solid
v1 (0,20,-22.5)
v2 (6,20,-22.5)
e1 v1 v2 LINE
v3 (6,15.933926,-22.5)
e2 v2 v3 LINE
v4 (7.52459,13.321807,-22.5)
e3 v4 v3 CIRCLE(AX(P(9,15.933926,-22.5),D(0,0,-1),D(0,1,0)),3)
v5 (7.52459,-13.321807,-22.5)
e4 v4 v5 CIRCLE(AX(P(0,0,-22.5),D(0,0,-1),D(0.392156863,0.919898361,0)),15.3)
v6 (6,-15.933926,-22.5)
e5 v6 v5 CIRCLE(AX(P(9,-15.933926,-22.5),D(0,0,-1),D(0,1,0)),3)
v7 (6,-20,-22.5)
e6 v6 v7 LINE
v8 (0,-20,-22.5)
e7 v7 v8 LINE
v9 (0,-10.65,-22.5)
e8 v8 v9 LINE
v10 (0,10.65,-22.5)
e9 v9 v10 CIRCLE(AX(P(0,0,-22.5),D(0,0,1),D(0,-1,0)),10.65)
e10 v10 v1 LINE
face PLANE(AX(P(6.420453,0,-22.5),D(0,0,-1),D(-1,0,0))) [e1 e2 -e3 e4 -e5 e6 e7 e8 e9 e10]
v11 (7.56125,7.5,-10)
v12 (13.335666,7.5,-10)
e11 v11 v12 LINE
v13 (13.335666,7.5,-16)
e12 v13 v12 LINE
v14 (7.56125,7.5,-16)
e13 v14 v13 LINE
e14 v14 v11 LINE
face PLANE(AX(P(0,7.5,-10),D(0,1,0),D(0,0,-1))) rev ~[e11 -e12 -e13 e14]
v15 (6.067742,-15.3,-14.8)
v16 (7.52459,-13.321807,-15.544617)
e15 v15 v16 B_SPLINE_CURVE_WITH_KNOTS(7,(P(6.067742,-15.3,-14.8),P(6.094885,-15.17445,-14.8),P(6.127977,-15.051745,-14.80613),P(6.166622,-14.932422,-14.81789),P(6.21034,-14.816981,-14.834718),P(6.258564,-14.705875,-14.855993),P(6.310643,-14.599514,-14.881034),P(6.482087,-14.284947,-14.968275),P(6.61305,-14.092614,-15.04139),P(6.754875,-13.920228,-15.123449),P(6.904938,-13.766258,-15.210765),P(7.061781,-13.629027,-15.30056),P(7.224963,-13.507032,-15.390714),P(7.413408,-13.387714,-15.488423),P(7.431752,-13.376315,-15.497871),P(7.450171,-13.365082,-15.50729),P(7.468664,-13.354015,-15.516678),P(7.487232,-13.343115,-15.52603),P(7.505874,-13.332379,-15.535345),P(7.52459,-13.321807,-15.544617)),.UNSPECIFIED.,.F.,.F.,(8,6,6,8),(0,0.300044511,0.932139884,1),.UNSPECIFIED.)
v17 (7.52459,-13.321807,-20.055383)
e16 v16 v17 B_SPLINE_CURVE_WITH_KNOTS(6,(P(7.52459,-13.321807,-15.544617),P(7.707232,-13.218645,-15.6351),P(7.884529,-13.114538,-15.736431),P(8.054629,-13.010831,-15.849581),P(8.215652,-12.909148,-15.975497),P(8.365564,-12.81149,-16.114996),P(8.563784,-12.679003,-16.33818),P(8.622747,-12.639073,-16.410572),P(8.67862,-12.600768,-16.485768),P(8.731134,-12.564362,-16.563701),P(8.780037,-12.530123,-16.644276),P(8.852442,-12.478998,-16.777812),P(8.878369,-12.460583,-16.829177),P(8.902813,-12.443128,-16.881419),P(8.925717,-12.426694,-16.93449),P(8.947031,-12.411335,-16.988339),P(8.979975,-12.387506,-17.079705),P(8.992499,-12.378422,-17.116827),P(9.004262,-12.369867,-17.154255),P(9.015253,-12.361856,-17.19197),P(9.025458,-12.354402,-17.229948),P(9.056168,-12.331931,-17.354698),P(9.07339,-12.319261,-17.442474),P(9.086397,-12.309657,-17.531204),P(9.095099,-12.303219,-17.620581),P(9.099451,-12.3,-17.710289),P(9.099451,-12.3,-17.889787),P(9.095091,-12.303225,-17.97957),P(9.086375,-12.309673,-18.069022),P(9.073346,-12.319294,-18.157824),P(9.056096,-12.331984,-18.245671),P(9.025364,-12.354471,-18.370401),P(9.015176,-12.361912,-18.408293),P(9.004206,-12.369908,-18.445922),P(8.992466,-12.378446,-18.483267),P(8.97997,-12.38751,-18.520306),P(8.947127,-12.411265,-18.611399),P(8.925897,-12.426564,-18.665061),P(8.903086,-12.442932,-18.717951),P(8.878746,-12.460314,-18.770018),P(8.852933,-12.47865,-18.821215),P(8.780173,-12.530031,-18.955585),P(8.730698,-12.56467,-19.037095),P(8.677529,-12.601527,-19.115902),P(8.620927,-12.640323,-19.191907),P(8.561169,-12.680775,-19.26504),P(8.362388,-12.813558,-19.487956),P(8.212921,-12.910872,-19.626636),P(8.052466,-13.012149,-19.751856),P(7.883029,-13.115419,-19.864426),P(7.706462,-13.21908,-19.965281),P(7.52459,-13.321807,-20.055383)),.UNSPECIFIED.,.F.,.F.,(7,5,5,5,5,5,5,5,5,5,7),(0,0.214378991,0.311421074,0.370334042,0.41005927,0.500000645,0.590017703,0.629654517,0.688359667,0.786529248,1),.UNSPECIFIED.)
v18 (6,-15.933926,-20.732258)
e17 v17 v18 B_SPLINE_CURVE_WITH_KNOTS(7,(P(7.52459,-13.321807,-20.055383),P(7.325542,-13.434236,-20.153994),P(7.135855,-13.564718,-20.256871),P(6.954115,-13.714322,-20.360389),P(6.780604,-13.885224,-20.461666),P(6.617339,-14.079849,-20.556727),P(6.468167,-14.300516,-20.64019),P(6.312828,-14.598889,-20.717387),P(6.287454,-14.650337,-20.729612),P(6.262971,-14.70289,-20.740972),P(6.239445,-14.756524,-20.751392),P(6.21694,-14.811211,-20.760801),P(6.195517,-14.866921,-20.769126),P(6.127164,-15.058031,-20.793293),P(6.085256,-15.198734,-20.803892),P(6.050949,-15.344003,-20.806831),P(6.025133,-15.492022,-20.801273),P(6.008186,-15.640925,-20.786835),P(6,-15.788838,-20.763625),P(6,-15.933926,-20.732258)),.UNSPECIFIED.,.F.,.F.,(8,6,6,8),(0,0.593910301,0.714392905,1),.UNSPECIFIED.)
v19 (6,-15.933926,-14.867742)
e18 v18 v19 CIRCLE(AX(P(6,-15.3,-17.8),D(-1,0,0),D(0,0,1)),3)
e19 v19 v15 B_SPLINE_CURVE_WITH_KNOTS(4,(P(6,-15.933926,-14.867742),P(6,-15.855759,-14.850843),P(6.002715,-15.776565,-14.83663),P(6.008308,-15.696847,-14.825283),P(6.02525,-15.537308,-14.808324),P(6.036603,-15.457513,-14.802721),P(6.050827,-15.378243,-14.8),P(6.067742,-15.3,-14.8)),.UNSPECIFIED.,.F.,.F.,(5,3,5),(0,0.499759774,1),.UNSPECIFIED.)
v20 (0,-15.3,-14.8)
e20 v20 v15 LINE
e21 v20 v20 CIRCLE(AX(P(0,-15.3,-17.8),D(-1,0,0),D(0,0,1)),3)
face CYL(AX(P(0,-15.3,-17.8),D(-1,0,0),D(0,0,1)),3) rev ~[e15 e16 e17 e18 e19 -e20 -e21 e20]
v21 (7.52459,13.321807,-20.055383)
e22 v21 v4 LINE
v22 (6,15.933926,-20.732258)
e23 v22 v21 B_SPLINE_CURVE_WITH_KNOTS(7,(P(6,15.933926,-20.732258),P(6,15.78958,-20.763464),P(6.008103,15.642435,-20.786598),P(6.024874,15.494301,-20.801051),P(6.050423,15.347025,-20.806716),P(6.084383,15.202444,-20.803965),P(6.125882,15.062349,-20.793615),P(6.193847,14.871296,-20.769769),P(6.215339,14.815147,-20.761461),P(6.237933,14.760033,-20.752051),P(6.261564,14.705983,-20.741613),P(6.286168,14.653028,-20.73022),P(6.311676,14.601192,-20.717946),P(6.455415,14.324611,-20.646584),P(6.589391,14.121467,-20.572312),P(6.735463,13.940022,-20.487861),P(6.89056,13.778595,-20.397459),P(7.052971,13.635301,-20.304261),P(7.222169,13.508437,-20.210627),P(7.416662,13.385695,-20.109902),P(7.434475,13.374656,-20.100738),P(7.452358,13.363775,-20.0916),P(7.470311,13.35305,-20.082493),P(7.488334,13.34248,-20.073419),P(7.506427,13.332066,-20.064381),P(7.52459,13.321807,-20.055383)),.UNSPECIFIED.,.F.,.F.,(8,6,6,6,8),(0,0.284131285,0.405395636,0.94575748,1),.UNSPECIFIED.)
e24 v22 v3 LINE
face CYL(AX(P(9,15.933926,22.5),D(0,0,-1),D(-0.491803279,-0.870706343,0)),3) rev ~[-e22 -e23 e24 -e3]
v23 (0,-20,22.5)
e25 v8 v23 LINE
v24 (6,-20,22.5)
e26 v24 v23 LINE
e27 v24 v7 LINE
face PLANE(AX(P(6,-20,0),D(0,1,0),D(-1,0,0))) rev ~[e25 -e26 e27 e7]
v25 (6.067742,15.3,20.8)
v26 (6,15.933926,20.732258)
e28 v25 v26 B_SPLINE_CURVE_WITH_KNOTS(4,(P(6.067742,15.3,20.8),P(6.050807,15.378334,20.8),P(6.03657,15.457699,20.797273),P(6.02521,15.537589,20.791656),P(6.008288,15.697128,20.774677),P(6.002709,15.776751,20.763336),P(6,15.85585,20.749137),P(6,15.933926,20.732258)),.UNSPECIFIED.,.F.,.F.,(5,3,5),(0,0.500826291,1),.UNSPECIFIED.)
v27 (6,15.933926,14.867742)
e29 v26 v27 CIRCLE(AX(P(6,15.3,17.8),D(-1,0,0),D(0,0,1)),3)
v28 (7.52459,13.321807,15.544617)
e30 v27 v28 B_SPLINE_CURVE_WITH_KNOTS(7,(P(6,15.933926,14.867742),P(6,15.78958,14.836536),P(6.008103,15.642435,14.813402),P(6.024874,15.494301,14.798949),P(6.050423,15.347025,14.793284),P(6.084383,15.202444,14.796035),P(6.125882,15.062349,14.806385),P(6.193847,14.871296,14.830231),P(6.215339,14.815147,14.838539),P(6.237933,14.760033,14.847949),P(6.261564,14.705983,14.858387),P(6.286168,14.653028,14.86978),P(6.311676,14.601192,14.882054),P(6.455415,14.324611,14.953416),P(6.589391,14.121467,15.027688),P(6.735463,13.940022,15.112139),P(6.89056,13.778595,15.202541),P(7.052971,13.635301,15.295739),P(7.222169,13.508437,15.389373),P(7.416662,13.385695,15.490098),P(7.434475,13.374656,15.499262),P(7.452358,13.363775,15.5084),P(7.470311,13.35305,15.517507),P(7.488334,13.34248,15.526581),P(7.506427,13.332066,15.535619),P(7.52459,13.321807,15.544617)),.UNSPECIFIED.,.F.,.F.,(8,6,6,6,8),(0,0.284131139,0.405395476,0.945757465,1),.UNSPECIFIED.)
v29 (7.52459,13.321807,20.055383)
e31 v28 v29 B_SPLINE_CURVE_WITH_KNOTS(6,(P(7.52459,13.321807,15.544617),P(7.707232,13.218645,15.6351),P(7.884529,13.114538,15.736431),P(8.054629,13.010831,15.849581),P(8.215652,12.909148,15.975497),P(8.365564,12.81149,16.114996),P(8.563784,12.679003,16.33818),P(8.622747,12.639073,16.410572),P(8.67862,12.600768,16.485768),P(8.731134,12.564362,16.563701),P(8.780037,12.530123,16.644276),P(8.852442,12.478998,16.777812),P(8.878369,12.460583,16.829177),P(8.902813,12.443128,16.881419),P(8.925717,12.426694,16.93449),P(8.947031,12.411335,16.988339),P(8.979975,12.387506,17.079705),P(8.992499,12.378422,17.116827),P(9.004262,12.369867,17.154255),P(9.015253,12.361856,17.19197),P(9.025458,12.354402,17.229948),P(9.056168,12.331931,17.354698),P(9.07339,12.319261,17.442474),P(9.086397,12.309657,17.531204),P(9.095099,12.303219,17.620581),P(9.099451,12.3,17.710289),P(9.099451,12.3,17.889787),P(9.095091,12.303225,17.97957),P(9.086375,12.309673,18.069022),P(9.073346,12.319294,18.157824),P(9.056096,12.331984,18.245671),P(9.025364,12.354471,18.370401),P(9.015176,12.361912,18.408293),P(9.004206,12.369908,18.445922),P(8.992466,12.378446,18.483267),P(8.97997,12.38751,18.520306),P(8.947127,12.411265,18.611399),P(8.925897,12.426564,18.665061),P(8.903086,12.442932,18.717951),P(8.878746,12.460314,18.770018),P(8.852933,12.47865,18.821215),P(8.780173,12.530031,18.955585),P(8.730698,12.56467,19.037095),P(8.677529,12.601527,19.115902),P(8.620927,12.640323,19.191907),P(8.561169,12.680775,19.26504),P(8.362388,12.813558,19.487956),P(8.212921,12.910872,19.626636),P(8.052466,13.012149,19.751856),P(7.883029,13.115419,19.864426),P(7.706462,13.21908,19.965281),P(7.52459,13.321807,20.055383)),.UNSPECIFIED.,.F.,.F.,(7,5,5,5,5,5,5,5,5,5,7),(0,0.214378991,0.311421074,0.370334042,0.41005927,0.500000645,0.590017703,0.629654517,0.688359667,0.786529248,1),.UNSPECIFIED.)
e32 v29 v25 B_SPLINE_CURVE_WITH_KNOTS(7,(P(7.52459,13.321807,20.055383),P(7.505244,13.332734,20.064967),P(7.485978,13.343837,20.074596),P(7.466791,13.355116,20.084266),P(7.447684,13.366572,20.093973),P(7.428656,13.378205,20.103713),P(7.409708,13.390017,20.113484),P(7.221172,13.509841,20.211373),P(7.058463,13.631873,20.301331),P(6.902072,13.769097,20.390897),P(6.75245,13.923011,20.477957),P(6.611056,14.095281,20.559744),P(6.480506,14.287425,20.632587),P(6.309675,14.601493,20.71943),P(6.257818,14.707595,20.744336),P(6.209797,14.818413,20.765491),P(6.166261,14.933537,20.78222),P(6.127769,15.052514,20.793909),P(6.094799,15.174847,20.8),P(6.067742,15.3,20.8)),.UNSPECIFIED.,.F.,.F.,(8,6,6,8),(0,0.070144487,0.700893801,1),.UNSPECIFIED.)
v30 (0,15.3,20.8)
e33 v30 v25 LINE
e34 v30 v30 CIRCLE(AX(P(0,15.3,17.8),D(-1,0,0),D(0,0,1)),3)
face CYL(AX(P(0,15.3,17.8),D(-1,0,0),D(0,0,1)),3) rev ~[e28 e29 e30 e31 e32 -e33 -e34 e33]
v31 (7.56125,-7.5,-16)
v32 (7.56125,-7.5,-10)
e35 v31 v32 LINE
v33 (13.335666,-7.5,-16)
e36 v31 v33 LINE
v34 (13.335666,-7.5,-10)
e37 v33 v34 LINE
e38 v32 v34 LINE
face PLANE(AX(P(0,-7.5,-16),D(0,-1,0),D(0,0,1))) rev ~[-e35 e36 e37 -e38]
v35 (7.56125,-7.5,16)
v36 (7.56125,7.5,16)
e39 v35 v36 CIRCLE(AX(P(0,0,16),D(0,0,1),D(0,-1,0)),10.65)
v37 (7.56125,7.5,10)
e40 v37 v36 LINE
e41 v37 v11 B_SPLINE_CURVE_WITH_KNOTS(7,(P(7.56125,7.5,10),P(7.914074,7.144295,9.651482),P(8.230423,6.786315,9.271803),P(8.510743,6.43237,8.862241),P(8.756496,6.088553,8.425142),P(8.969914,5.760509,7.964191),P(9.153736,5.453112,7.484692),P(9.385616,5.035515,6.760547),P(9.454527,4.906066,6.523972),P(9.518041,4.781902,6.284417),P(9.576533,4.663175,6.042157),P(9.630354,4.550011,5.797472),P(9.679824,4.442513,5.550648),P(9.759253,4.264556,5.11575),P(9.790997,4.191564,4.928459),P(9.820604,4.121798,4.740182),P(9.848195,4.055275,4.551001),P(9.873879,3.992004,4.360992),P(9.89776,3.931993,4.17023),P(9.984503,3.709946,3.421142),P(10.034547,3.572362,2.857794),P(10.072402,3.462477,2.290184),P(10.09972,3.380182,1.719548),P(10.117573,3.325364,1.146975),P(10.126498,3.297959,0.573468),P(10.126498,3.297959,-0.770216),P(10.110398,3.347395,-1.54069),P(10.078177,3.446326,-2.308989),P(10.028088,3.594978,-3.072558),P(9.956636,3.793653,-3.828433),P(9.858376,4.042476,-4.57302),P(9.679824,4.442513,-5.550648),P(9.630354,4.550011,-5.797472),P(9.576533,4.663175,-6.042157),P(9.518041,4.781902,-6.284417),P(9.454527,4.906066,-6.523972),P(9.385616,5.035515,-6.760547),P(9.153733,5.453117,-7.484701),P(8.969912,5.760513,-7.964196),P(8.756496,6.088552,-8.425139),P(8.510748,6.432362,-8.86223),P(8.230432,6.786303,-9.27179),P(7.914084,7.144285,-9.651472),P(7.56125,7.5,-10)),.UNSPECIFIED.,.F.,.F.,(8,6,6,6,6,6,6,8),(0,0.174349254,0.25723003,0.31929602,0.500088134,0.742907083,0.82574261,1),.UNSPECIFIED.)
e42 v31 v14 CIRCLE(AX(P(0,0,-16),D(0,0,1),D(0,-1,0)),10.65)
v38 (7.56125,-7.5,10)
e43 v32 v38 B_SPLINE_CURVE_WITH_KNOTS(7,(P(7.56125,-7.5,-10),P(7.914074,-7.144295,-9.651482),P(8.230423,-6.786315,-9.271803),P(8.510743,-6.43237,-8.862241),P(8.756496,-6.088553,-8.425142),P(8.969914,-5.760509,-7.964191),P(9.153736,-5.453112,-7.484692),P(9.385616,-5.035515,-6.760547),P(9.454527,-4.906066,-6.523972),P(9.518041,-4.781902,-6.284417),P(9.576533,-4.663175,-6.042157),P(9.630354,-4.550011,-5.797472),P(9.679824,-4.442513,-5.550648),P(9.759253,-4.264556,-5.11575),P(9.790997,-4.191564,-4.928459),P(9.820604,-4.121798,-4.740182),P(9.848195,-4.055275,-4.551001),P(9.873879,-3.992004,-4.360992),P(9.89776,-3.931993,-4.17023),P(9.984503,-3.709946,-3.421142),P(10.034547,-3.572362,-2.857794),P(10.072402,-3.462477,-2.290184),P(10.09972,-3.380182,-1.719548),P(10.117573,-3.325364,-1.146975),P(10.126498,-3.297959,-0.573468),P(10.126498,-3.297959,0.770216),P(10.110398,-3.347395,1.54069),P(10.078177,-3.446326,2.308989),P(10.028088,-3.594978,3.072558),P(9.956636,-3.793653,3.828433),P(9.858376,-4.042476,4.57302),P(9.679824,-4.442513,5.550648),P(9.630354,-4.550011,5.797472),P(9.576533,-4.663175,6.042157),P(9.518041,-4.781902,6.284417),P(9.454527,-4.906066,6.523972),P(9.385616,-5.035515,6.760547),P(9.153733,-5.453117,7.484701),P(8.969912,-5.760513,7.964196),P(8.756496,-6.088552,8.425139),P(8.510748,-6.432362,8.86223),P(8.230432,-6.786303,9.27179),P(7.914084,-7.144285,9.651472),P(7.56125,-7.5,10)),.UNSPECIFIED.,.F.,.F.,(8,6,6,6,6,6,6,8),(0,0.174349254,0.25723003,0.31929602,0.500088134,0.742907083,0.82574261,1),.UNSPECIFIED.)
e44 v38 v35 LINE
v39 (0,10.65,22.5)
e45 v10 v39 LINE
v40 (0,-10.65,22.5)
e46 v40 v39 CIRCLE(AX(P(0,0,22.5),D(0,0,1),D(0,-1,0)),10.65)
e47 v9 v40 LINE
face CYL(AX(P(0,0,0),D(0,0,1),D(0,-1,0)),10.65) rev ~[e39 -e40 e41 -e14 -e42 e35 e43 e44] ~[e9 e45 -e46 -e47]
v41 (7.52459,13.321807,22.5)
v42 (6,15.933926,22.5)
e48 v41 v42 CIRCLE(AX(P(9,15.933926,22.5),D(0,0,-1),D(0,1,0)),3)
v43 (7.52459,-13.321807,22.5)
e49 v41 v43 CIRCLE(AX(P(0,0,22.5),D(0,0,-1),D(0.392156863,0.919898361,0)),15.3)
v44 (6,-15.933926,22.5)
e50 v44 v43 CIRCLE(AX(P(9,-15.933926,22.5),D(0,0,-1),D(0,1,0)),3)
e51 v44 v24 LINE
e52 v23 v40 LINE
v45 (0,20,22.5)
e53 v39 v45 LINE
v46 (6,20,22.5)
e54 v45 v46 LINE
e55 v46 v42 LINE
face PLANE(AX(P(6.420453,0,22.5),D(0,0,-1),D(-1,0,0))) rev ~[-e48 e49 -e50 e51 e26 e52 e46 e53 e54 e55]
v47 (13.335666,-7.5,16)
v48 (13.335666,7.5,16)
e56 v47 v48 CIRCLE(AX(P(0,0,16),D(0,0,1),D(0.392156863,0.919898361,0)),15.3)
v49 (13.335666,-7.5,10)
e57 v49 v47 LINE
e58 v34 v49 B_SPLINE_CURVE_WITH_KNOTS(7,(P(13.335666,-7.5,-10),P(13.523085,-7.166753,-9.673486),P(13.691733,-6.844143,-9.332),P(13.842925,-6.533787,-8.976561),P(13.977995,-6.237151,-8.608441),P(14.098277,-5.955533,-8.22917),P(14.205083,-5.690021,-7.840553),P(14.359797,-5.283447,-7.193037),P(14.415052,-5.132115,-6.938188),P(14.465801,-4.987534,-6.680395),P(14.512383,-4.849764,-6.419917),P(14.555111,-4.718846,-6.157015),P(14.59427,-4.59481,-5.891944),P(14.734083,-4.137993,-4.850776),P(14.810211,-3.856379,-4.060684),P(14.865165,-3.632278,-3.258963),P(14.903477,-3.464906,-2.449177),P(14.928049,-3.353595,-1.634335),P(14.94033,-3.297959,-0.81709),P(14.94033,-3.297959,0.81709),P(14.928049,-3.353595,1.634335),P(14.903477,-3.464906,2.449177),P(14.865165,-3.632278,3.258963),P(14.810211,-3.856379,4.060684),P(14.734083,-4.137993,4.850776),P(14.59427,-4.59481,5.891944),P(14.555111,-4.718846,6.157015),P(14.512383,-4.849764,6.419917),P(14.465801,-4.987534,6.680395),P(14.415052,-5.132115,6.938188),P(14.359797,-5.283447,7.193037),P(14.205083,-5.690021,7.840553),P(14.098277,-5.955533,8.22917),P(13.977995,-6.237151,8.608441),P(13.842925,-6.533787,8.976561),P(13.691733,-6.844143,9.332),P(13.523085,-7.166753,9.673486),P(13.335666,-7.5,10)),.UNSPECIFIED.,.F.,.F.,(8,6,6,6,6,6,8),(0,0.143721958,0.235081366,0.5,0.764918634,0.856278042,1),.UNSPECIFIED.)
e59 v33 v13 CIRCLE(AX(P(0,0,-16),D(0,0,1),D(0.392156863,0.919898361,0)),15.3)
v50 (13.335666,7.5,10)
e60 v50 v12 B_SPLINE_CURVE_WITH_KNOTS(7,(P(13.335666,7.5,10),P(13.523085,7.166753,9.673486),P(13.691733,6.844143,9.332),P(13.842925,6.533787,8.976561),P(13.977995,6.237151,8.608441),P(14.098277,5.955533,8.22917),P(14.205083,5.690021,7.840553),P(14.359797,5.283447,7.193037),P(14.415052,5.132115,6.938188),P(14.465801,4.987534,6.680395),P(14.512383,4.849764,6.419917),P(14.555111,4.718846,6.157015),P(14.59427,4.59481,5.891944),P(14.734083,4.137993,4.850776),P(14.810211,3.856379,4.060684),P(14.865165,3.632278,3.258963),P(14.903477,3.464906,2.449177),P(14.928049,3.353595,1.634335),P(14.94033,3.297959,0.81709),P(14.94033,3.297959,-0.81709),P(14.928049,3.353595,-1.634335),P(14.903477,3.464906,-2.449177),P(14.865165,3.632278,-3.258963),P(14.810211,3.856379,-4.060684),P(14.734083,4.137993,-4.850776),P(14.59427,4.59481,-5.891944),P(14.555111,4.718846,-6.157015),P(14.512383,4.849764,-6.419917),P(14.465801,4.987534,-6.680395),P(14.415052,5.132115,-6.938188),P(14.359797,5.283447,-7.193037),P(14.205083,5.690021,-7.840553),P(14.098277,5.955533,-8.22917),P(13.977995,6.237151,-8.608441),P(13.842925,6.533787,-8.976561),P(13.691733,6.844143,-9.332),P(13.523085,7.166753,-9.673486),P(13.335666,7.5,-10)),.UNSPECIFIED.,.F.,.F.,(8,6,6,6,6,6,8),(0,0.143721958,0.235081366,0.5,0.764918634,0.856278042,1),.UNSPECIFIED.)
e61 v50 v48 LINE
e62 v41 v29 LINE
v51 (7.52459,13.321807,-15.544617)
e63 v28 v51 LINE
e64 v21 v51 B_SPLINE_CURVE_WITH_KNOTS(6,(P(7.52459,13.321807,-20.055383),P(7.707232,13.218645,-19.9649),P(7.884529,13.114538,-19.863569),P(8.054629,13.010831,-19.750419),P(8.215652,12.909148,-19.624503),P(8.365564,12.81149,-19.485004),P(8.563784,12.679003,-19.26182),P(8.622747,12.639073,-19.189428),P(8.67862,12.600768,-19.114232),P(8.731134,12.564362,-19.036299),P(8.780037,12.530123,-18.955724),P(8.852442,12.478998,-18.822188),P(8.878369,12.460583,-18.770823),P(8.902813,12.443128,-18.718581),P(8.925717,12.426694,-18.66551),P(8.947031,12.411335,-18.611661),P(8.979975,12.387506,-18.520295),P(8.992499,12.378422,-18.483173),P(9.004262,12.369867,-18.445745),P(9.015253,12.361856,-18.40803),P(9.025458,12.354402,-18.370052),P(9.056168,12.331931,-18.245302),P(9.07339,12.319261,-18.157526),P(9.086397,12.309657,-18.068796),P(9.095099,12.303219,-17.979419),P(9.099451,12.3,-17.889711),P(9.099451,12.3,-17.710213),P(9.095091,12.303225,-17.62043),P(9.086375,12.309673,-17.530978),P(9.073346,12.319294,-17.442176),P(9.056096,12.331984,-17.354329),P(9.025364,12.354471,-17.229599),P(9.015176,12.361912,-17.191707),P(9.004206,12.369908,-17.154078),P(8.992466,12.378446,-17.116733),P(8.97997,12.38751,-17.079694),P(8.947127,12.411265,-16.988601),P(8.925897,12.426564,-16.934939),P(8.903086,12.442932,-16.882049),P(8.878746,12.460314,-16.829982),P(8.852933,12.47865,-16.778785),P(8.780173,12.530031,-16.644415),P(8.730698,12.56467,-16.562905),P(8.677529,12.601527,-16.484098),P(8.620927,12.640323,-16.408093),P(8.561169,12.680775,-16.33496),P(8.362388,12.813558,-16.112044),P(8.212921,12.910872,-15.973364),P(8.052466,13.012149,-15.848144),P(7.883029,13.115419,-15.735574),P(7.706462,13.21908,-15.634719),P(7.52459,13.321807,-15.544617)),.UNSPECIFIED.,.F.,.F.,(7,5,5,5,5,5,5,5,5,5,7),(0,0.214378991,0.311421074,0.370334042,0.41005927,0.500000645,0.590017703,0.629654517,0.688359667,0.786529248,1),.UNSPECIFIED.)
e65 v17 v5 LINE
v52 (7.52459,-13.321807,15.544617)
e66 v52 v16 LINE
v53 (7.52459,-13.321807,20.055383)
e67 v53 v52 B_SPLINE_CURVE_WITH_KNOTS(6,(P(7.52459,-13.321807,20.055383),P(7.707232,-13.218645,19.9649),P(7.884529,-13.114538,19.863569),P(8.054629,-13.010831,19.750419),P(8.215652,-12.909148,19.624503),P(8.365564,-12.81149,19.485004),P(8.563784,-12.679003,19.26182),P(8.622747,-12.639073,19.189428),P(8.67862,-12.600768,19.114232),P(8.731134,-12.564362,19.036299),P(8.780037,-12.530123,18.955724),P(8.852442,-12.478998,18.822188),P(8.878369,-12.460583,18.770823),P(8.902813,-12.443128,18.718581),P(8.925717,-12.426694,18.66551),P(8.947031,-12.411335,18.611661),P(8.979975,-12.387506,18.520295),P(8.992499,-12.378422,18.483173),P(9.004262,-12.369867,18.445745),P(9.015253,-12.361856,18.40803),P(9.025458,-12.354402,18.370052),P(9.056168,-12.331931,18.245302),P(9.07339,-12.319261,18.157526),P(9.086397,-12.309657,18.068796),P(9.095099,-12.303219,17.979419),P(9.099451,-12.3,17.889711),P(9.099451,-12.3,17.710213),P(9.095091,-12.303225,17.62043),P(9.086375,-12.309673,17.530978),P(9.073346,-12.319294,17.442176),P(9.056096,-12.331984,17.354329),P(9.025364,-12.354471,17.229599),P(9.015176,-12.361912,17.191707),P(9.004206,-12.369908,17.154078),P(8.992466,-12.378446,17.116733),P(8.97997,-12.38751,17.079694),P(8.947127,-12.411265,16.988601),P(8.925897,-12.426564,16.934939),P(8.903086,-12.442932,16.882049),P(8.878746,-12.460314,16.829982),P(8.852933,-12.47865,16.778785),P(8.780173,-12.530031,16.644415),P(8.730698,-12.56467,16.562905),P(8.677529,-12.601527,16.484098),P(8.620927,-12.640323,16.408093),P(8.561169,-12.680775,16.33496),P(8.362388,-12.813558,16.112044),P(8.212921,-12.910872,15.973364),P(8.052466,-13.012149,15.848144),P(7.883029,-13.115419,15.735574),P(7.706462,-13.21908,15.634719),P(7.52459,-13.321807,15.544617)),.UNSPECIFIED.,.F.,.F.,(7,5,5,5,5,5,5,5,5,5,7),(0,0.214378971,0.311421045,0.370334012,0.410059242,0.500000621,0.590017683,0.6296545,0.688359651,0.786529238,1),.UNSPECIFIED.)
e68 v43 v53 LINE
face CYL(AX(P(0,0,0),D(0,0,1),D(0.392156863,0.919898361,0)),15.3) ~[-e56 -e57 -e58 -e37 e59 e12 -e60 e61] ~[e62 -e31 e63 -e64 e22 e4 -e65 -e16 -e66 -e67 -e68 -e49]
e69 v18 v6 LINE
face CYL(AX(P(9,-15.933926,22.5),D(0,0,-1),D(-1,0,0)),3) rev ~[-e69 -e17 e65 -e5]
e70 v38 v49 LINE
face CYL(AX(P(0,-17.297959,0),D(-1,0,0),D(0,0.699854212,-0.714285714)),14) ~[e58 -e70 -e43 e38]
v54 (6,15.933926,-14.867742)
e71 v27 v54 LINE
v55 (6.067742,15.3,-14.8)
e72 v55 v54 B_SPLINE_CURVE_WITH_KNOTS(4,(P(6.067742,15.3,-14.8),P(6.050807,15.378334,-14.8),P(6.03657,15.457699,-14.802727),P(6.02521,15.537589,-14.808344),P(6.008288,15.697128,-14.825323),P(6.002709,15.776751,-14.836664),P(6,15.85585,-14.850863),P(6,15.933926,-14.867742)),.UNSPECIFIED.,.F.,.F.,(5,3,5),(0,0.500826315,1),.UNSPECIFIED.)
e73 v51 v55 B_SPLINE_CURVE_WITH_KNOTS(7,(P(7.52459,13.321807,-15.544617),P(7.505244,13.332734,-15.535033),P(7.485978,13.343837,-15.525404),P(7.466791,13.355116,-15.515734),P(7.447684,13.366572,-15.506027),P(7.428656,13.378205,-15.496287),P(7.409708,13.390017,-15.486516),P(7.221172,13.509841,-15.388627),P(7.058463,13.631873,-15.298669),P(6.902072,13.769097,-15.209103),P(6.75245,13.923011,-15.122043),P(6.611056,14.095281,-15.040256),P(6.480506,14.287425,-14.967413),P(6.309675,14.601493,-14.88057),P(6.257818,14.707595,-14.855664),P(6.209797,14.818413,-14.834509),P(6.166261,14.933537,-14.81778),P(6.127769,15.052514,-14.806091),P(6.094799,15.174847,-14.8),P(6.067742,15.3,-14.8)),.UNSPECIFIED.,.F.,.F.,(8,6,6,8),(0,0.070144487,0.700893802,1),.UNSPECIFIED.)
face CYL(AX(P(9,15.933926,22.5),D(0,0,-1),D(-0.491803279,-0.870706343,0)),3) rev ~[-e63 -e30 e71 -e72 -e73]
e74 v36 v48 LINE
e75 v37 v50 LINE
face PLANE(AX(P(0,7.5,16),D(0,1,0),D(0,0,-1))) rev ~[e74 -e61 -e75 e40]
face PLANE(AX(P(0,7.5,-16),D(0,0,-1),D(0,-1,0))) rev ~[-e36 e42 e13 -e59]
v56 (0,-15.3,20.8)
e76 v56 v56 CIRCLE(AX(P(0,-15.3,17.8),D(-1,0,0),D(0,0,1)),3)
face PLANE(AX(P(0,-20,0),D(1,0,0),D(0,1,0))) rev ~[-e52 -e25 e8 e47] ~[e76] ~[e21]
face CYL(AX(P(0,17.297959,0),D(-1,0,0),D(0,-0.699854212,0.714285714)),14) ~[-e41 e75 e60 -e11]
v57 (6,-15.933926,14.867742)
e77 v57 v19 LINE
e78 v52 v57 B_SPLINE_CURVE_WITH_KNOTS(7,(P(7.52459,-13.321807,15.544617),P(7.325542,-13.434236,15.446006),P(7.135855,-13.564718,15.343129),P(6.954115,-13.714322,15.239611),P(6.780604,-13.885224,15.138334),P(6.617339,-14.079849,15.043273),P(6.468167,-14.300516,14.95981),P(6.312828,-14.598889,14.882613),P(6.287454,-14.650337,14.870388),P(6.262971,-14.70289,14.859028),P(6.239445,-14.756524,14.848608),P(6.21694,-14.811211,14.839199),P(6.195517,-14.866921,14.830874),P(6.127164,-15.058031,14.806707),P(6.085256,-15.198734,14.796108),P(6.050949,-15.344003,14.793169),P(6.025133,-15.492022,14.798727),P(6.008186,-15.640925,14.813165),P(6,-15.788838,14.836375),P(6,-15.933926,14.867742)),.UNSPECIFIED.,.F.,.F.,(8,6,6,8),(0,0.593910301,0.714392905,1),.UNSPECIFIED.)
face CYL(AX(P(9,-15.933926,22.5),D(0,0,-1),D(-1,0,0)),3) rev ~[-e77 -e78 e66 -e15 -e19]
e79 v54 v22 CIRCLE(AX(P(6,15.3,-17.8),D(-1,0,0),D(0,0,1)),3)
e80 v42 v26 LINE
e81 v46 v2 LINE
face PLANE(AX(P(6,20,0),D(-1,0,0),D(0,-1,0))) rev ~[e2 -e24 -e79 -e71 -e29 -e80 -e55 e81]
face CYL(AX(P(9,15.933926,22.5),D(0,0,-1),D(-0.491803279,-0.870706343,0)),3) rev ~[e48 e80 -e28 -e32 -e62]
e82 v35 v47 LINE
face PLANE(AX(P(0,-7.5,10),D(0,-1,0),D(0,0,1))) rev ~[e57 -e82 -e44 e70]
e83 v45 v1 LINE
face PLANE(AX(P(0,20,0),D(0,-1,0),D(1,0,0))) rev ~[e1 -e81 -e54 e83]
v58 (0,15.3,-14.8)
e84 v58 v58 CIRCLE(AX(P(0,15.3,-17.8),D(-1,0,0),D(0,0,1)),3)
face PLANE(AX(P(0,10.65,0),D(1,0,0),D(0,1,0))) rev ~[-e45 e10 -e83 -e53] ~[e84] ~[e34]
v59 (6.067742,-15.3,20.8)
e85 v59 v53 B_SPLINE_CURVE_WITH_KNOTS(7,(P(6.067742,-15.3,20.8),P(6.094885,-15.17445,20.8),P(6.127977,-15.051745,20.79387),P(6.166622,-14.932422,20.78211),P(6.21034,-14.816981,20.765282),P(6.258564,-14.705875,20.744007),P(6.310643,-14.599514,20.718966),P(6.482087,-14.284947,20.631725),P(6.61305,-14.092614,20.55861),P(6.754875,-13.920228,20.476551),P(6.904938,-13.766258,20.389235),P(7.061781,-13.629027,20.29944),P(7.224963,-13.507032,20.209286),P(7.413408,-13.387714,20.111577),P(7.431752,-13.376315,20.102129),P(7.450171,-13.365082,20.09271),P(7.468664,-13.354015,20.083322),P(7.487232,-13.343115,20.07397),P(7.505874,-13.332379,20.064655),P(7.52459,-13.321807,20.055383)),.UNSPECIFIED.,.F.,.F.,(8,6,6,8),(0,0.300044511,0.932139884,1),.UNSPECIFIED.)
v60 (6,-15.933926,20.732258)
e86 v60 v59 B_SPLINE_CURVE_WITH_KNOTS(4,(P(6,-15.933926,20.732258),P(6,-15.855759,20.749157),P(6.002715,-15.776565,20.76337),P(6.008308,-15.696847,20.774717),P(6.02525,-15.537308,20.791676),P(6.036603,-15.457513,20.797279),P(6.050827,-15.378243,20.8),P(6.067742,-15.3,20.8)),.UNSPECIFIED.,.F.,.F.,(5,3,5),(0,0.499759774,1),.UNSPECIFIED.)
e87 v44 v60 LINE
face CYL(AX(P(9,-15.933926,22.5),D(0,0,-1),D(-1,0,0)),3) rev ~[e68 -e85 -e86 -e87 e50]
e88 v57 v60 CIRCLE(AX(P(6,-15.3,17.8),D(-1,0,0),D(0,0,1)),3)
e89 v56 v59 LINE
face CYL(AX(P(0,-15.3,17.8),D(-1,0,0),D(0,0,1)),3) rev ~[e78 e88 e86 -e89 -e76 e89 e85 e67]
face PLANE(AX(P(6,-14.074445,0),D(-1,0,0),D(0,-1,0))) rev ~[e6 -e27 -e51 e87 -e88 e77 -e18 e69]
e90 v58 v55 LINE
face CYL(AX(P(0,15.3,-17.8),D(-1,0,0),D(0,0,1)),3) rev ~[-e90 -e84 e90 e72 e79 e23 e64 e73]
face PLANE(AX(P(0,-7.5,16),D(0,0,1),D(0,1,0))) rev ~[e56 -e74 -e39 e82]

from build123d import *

# Parameters (mm, degrees)
BOSS_EXTRUDE2_DEPTH = 22.5
FILLET1_R           = 3
SKETCH2_R           = 3
CUT_EXTRUDE1_DEPTH  = 45
CUT_EXTRUDE2_DEPTH  = 34.768920734


with BuildPart() as part:
    # Sketch1 → Boss-Extrude2 (new, symmetric)
    with BuildSketch(Plane.XY):
        with BuildLine():
            Line((0, 10.65), (0, 20))
            Line((0, 20), (6, 20))
            Line((6, 20), (6, 14.074444927))
            ThreePointArc((6, 14.074444927), (15.3, 0), (6, -14.074444927))
            Line((6, -14.074444927), (6, -20))
            Line((6, -20), (0, -20))
            Line((0, -20), (0, -10.65))
            ThreePointArc((0, -10.65), (10.65, 0), (0, 10.65))
        make_face()
    extrude(amount=BOSS_EXTRUDE2_DEPTH, both=True)

    # Fillet1
    fillet1_edges = [part.edges().sort_by_distance(p)[0] for p in [
        (6, 14.074444927, 0),
        (6, -14.074444927, 0),
    ]]
    fillet(fillet1_edges, radius=FILLET1_R)

    # Sketch2 → Cut-Extrude1 (cut)
    with BuildSketch(Plane.ZY):
        with Locations((-17.8, 15.3)):
            Circle(SKETCH2_R)
        with Locations((17.8, 15.3)):
            Circle(SKETCH2_R)
        with Locations((17.8, -15.3)):
            Circle(SKETCH2_R)
        with Locations((-17.8, -15.3)):
            Circle(SKETCH2_R)
    extrude(amount=-CUT_EXTRUDE1_DEPTH, mode=Mode.SUBTRACT)

    # Sketch3 → Cut-Extrude2 (cut, through all)
    with BuildSketch(Plane.ZY):
        with BuildLine():
            Line((16, 7.5), (10, 7.5))
            ThreePointArc((10, 7.5), (0, 3.297958971), (-10, 7.5))
            Line((-10, 7.5), (-16, 7.5))
            Line((-16, 7.5), (-16, -7.5))
            Line((-16, -7.5), (-10, -7.5))
            ThreePointArc((-10, -7.5), (0, -3.297958971), (10, -7.5))
            Line((10, -7.5), (16, -7.5))
            Line((16, -7.5), (16, 7.5))
        make_face()
    extrude(amount=-CUT_EXTRUDE2_DEPTH, mode=Mode.SUBTRACT)


solid = part.part
